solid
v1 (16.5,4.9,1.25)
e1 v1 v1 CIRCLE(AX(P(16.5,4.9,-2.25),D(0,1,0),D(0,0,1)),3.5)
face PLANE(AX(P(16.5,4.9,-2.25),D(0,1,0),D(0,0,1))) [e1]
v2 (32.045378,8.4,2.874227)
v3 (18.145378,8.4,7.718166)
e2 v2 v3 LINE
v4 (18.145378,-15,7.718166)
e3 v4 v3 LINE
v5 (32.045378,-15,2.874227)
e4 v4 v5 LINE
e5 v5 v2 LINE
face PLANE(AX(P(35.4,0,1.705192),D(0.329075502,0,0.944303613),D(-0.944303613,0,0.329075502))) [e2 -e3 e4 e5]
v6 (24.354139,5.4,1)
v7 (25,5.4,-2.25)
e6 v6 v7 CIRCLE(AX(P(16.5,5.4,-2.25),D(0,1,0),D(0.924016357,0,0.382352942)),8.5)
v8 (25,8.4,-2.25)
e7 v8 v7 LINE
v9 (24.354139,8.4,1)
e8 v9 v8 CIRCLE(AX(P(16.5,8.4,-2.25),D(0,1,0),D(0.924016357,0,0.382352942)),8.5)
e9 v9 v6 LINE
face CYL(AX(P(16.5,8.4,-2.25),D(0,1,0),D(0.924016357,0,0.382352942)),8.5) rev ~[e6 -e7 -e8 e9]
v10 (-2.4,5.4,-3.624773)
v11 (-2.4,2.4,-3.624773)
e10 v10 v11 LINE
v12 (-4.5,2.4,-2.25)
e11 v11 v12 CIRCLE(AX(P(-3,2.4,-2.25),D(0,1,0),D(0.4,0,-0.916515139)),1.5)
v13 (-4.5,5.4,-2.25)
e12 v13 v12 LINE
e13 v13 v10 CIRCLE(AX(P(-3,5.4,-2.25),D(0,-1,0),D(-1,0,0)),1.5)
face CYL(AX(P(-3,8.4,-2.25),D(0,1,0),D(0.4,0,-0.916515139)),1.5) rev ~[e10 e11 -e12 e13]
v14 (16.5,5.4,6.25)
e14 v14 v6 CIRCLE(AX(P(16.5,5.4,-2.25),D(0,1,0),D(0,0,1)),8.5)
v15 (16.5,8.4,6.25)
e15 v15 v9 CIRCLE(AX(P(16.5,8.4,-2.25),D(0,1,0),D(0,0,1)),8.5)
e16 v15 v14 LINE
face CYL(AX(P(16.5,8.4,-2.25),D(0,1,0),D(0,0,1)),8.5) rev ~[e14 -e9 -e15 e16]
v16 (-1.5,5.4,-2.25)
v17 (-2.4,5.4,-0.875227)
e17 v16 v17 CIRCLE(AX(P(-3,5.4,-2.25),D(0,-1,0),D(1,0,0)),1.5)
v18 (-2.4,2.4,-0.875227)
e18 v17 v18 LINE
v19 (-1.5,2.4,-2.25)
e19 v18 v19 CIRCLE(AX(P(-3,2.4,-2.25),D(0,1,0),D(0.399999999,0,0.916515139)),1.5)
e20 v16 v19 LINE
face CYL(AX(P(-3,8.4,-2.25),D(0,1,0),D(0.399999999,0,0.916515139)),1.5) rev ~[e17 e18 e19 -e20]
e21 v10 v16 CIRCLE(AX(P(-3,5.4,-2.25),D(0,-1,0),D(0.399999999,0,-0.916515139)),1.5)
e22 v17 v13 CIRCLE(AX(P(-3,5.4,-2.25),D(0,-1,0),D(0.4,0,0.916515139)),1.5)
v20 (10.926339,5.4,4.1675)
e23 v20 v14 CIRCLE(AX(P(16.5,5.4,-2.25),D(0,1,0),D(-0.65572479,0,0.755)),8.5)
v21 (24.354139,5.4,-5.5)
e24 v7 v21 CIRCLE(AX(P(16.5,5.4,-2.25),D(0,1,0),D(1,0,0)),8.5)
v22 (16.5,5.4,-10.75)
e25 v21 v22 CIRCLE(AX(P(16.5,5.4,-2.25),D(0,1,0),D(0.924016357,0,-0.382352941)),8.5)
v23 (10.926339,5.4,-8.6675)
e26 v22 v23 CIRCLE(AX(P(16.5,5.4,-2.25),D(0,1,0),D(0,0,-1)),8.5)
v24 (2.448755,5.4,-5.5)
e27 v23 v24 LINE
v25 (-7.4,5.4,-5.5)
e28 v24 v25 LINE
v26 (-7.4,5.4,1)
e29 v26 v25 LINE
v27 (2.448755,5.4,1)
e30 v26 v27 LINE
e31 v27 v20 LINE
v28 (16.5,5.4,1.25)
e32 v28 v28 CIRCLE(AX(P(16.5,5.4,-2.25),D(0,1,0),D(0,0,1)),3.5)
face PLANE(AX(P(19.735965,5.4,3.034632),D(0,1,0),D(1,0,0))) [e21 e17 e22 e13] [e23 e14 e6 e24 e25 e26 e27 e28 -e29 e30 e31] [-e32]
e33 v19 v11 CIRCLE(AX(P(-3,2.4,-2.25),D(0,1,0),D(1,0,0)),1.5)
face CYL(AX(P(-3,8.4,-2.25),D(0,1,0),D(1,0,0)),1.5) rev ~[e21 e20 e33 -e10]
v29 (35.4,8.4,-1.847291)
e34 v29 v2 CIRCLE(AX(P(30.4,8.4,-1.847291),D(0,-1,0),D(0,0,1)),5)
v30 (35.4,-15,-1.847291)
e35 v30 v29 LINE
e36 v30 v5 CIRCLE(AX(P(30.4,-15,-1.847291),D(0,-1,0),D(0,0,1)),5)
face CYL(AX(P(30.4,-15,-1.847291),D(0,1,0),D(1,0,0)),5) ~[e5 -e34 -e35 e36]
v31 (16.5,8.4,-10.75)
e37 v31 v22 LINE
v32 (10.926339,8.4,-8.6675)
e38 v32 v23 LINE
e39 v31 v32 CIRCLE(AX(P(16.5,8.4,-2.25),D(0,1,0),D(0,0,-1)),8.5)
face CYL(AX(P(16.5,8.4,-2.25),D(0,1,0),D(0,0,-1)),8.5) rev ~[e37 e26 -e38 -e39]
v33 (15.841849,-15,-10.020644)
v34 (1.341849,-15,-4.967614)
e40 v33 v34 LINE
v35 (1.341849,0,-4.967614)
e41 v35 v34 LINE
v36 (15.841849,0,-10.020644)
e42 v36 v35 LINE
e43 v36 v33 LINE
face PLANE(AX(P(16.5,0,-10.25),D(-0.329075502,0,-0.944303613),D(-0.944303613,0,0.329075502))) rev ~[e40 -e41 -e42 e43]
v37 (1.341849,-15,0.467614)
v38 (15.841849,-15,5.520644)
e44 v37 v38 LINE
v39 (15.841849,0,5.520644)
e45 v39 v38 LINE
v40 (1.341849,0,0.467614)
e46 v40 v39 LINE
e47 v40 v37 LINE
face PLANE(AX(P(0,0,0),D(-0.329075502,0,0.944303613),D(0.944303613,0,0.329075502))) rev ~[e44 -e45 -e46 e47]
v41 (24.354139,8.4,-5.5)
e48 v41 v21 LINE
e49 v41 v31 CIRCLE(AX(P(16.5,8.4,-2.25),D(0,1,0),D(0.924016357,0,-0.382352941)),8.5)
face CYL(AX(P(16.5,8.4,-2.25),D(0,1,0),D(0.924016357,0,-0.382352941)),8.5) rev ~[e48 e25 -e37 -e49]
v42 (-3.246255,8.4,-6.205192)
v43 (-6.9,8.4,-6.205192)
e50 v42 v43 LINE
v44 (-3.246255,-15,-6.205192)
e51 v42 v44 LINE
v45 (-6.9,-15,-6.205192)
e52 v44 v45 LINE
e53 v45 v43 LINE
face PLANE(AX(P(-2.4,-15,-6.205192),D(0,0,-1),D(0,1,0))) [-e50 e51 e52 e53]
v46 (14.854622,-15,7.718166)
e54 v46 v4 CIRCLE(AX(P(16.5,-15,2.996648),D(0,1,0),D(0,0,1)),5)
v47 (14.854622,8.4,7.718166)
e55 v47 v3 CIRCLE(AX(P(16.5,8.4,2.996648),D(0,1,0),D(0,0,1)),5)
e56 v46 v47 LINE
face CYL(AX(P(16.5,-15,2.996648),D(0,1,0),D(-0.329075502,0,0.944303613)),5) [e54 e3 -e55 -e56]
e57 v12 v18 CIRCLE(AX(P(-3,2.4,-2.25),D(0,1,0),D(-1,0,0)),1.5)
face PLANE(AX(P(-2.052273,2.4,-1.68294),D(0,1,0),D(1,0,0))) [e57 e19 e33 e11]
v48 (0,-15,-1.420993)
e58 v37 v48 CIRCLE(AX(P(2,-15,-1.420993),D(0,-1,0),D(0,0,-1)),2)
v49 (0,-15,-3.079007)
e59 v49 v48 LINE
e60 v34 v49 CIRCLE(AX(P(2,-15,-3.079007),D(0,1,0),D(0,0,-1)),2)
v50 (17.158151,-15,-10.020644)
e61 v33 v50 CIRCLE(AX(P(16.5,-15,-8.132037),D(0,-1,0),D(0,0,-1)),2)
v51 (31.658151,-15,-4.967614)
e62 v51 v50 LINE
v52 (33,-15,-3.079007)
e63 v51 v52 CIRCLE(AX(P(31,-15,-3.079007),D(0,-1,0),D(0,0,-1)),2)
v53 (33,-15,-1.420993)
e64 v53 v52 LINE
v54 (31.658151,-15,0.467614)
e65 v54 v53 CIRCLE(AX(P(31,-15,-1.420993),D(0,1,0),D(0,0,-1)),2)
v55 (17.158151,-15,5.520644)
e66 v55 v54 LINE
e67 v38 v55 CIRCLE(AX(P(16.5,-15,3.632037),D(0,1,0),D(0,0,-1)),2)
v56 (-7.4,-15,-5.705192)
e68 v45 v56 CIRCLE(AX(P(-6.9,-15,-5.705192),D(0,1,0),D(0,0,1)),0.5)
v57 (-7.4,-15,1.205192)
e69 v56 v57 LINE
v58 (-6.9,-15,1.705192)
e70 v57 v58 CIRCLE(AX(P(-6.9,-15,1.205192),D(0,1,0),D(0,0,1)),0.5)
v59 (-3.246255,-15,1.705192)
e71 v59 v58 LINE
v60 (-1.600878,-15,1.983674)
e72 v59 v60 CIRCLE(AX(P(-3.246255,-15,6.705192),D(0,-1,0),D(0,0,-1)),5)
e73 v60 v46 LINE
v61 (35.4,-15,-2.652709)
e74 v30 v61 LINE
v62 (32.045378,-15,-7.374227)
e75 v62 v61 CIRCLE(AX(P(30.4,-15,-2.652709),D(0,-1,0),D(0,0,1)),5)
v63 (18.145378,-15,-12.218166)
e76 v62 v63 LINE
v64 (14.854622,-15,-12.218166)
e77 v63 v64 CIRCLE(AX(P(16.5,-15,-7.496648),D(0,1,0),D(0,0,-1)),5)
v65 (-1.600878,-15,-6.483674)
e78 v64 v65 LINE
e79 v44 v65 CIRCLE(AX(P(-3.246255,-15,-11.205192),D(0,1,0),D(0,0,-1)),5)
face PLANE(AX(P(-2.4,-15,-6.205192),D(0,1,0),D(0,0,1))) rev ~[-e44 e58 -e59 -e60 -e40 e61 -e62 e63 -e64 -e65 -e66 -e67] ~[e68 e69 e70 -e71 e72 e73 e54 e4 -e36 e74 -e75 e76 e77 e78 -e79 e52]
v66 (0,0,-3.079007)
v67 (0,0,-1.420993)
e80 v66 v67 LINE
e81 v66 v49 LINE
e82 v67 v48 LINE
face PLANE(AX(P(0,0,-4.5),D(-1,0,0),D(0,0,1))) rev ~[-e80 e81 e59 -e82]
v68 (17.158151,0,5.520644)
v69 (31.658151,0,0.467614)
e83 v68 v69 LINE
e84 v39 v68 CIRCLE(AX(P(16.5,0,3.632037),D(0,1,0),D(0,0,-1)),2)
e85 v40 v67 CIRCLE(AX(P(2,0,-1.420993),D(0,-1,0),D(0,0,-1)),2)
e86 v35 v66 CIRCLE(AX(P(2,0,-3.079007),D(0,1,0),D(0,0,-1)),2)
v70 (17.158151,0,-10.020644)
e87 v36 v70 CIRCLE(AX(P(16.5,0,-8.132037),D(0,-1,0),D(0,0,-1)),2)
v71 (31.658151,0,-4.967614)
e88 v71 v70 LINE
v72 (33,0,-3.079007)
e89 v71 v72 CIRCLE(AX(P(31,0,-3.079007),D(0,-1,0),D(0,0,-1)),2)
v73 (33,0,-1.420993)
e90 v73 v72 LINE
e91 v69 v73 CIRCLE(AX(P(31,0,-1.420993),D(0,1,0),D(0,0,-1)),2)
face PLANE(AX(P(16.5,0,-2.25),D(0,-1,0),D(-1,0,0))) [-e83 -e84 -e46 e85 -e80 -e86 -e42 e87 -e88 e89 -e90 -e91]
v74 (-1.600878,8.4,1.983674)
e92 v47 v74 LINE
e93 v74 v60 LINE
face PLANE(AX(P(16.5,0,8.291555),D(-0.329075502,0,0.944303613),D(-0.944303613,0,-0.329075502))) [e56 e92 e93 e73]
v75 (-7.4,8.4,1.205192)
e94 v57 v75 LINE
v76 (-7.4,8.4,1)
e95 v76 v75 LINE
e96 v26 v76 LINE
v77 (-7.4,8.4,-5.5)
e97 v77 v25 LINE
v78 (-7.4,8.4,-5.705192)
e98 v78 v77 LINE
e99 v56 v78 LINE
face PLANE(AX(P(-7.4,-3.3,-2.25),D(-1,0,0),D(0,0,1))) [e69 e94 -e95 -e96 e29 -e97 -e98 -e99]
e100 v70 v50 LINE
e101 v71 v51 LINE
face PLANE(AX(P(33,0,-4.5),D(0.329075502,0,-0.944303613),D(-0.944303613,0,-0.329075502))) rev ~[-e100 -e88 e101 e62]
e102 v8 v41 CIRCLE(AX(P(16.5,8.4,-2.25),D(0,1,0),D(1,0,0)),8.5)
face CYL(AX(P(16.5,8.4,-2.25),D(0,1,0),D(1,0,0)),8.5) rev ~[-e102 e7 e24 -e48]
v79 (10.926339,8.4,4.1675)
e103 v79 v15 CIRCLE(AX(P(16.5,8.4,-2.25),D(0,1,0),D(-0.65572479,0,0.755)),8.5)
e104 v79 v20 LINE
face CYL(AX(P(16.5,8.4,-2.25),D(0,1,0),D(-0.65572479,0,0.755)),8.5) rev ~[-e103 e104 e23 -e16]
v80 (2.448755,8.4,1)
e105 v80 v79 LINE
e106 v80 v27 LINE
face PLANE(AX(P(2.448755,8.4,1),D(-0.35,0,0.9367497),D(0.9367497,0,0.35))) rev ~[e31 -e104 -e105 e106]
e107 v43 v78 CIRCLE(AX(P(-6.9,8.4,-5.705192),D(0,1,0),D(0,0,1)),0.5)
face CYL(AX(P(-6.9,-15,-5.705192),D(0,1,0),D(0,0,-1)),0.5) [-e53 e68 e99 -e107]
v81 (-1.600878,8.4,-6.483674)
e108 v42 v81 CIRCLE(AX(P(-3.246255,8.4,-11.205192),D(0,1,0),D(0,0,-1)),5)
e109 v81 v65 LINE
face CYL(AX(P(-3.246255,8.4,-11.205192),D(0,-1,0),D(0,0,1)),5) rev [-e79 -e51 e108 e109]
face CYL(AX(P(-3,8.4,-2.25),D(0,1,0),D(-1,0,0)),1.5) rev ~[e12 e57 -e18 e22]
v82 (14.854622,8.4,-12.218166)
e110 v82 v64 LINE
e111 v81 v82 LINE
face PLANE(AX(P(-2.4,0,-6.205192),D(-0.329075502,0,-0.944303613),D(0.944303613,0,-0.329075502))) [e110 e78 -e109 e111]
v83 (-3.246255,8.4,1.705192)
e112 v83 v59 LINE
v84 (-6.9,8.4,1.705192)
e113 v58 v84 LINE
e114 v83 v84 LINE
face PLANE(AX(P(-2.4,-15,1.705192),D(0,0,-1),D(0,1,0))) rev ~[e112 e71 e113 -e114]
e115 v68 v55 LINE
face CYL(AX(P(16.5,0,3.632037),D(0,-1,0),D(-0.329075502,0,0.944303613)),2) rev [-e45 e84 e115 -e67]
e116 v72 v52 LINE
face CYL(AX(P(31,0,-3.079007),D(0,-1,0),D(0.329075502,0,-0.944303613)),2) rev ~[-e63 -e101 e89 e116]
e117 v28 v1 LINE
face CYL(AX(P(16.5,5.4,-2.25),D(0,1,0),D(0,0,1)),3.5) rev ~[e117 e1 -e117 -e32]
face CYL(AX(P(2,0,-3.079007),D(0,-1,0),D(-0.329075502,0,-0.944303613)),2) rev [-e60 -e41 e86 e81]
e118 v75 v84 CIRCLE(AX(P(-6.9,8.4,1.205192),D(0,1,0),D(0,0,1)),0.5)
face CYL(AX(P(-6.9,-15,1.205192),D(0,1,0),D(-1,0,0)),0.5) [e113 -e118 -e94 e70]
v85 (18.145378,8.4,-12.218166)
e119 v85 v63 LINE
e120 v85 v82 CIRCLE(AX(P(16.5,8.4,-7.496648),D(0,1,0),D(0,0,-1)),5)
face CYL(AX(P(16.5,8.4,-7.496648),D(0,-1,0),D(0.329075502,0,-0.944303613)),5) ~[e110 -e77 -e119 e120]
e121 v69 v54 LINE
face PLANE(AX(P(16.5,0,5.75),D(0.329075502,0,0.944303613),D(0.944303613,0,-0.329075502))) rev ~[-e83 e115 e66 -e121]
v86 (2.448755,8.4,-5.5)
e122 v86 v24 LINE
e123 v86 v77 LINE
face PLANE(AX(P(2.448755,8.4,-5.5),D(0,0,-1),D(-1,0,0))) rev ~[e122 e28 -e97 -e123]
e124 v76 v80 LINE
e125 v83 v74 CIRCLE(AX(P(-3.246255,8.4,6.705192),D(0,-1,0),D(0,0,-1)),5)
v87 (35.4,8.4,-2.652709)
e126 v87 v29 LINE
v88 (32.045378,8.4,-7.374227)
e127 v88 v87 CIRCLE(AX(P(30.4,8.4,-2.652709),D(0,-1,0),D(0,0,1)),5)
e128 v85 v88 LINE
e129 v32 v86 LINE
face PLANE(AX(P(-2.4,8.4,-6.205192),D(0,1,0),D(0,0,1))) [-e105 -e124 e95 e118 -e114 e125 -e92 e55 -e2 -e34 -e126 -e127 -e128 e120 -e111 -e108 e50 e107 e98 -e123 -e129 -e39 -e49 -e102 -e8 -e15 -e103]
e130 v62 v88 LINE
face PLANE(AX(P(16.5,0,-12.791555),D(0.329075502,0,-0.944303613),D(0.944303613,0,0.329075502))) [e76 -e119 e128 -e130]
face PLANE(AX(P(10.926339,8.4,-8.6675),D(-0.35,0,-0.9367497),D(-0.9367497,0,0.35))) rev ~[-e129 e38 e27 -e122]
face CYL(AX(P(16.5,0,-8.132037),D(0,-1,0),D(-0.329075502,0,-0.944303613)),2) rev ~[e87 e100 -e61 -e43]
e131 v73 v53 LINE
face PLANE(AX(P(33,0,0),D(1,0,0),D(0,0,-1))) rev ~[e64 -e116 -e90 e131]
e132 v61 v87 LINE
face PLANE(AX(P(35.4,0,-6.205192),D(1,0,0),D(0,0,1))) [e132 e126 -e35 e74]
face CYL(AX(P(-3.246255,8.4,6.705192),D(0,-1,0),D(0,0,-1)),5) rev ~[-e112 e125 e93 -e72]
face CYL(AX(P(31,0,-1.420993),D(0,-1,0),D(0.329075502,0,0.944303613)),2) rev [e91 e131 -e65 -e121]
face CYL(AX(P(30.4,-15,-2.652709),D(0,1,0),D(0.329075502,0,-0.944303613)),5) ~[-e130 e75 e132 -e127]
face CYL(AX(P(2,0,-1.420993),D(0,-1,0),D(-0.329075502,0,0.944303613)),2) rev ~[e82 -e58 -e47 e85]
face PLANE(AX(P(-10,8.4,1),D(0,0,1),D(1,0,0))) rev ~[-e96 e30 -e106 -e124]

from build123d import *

# Parameters (mm, degrees)
BOSS_EXTRUDE1_DEPTH = 15
FILLET2_R           = 2
FILLET3_R           = 2
FILLET4_R           = 2
FILLET5_R           = 2
FILLET6_R           = 2
FILLET7_R           = 2
BOSS_EXTRUDE2_DEPTH = 8.4
SKETCH4_W           = 7.910383638
SKETCH4_H           = 23.4
BOSS_EXTRUDE3_DEPTH = 5
CUT_EXTRUDE1_DEPTH  = 6
CUT_EXTRUDE2_DEPTH  = 3
SKETCH5_R           = 3.5
CUT_EXTRUDE3_DEPTH  = 0.5
FILLET8_R           = 0.5
FILLET9_R           = 0.5
FILLET10_R          = 5
FILLET11_R          = 5
FILLET12_R          = 5
FILLET13_R          = 5
FILLET14_R          = 5
FILLET15_R          = 5


with BuildPart() as part:
    # Sketch1 → Boss-Extrude1 (new body)
    with BuildSketch(Plane(origin=(0, 0, 0), x_dir=(1, 0, 0), z_dir=(0, 1, 0))):
        Polygon((-2.4, -1.705191819), (16.5, -8.291555455), (35.4, -1.705191819), (35.4, 6.205191819), (16.5, 12.791555455), (-2.4, 6.205191819), align=None)
        Polygon((0, 0), (16.5, -5.75), (33, 0), (33, 4.5), (16.5, 10.25), (0, 4.5), align=None, mode=Mode.SUBTRACT)
    extrude(amount=-BOSS_EXTRUDE1_DEPTH)

    # Fillet2
    fillet2_edges = [part.edges().sort_by_distance(p)[0] for p in [
        (0, -7.5, -4.5),
    ]]
    fillet(fillet2_edges, radius=FILLET2_R)

    # Fillet3
    fillet3_edges = [part.edges().sort_by_distance(p)[0] for p in [
        (16.5, -7.5, -10.25),
    ]]
    fillet(fillet3_edges, radius=FILLET3_R)

    # Fillet4
    fillet4_edges = [part.edges().sort_by_distance(p)[0] for p in [
        (33, -7.5, -4.5),
    ]]
    fillet(fillet4_edges, radius=FILLET4_R)

    # Fillet5
    fillet5_edges = [part.edges().sort_by_distance(p)[0] for p in [
        (0, -7.5, 0),
    ]]
    fillet(fillet5_edges, radius=FILLET5_R)

    # Fillet6
    fillet6_edges = [part.edges().sort_by_distance(p)[0] for p in [
        (16.5, -7.5, 5.75),
    ]]
    fillet(fillet6_edges, radius=FILLET6_R)

    # Fillet7
    fillet7_edges = [part.edges().sort_by_distance(p)[0] for p in [
        (33, -7.5, 0),
    ]]
    fillet(fillet7_edges, radius=FILLET7_R)

    # Sketch2 → Boss-Extrude2 (add)
    with BuildSketch(Plane(origin=(0, 0, 0), x_dir=(1, 0, 0), z_dir=(0, 1, 0))):
        Polygon((16.5, -8.291555455), (-2.4, -1.705191819), (-2.4, 6.205191819), (16.5, 12.791555455), (35.4, 6.205191819), (35.4, -1.705191819), align=None)
    extrude(amount=BOSS_EXTRUDE2_DEPTH)

    # Sketch4 → Boss-Extrude3 (add)
    with BuildSketch(Plane.ZY.offset(2.4)):
        with Locations((-2.25, -3.3)):
            Rectangle(SKETCH4_W, SKETCH4_H)
    extrude(amount=BOSS_EXTRUDE3_DEPTH)

    # Sketch3 → Cut-Extrude1 (cut)
    with BuildSketch(Plane(origin=(0, 8.4, 0), x_dir=(1, 0, 0), z_dir=(0, 1, 0))):
        with BuildLine():
            Line((-2.4, 2.25), (-2.4, 0.875227292))
            ThreePointArc((-2.4, 0.875227292), (-1.74500996, 1.428416164), (-1.5, 2.25))
            Line((-1.5, 2.25), (-2.4, 2.25))
        make_face()
        with BuildLine():
            ThreePointArc((-4.5, 2.25), (-3.821583836, 0.99500996), (-2.4, 0.875227292))
            Line((-2.4, 0.875227292), (-2.4, 2.25))
            Line((-2.4, 2.25), (-4.5, 2.25))
        make_face()
        with BuildLine():
            Line((-2.4, 2.25), (-1.5, 2.25))
            ThreePointArc((-1.5, 2.25), (-1.74500996, 3.071583836), (-2.4, 3.624772708))
            Line((-2.4, 3.624772708), (-2.4, 2.25))
        make_face()
        with BuildLine():
            ThreePointArc((-2.4, 3.624772708), (-3.821583836, 3.50499004), (-4.5, 2.25))
            Line((-4.5, 2.25), (-2.4, 2.25))
            Line((-2.4, 2.25), (-2.4, 3.624772708))
        make_face()
        with BuildLine():
            Line((-2.4, 2.25), (-2.4, 0.875227292))
            ThreePointArc((-2.4, 0.875227292), (-1.74500996, 1.428416164), (-1.5, 2.25))
            Line((-1.5, 2.25), (-2.4, 2.25))
        make_face()
        with BuildLine():
            ThreePointArc((-4.5, 2.25), (-3.821583836, 0.99500996), (-2.4, 0.875227292))
            Line((-2.4, 0.875227292), (-2.4, 2.25))
            Line((-2.4, 2.25), (-4.5, 2.25))
        make_face()
        with BuildLine():
            Line((-2.4, 2.25), (-1.5, 2.25))
            ThreePointArc((-1.5, 2.25), (-1.74500996, 3.071583836), (-2.4, 3.624772708))
            Line((-2.4, 3.624772708), (-2.4, 2.25))
        make_face()
        with BuildLine():
            ThreePointArc((-2.4, 3.624772708), (-3.821583836, 3.50499004), (-4.5, 2.25))
            Line((-4.5, 2.25), (-2.4, 2.25))
            Line((-2.4, 2.25), (-2.4, 3.624772708))
        make_face()
        with BuildLine():
            Line((-2.4, 2.25), (-2.4, 0.875227292))
            ThreePointArc((-2.4, 0.875227292), (-1.74500996, 1.428416164), (-1.5, 2.25))
            Line((-1.5, 2.25), (-2.4, 2.25))
        make_face()
        with BuildLine():
            ThreePointArc((-4.5, 2.25), (-3.821583836, 0.99500996), (-2.4, 0.875227292))
            Line((-2.4, 0.875227292), (-2.4, 2.25))
            Line((-2.4, 2.25), (-4.5, 2.25))
        make_face()
        with BuildLine():
            Line((-2.4, 2.25), (-1.5, 2.25))
            ThreePointArc((-1.5, 2.25), (-1.74500996, 3.071583836), (-2.4, 3.624772708))
            Line((-2.4, 3.624772708), (-2.4, 2.25))
        make_face()
        with BuildLine():
            ThreePointArc((-2.4, 3.624772708), (-3.821583836, 3.50499004), (-4.5, 2.25))
            Line((-4.5, 2.25), (-2.4, 2.25))
            Line((-2.4, 2.25), (-2.4, 3.624772708))
        make_face()
        with BuildLine():
            Line((-2.4, 2.25), (-2.4, 0.875227292))
            ThreePointArc((-2.4, 0.875227292), (-1.74500996, 1.428416164), (-1.5, 2.25))
            Line((-1.5, 2.25), (-2.4, 2.25))
        make_face()
        with BuildLine():
            ThreePointArc((-4.5, 2.25), (-3.821583836, 0.99500996), (-2.4, 0.875227292))
            Line((-2.4, 0.875227292), (-2.4, 2.25))
            Line((-2.4, 2.25), (-4.5, 2.25))
        make_face()
        with BuildLine():
            Line((-2.4, 2.25), (-1.5, 2.25))
            ThreePointArc((-1.5, 2.25), (-1.74500996, 3.071583836), (-2.4, 3.624772708))
            Line((-2.4, 3.624772708), (-2.4, 2.25))
        make_face()
        with BuildLine():
            ThreePointArc((-2.4, 3.624772708), (-3.821583836, 3.50499004), (-4.5, 2.25))
            Line((-4.5, 2.25), (-2.4, 2.25))
            Line((-2.4, 2.25), (-2.4, 3.624772708))
        make_face()
    extrude(amount=-CUT_EXTRUDE1_DEPTH, mode=Mode.SUBTRACT)

    # Sketch3<3> → Cut-Extrude2 (cut)
    with BuildSketch(Plane(origin=(0, 8.4, 0), x_dir=(1, 0, 0), z_dir=(0, 1, 0))):
        with BuildLine():
            Line((16.5, -1), (16.5, -6.25))
            ThreePointArc((16.5, -6.25), (21.223610907, -4.816647013), (24.354139036, -1))
            Line((24.354139036, -1), (16.5, -1))
        make_face()
        with BuildLine():
            Line((10.926339286, -4.1675), (16.5, -6.25))
            Line((16.5, -6.25), (16.5, -1))
            Line((16.5, -1), (8.645860964, -1))
            ThreePointArc((8.645860964, -1), (9.601832447, -2.71641565), (10.926339286, -4.1675))
        make_face()
        with BuildLine():
            ThreePointArc((10.926339286, -4.1675), (13.525, -5.712372448), (16.5, -6.25))
            Line((16.5, -6.25), (10.926339286, -4.1675))
        make_face()
        with BuildLine():
            Line((16.5, 2.25), (16.5, -1))
            Line((16.5, -1), (24.354139036, -1))
            ThreePointArc((24.354139036, -1), (24.836971327, 0.593223281), (25, 2.25))
            Line((25, 2.25), (16.5, 2.25))
        make_face()
        with BuildLine():
            Line((8.645860964, -1), (16.5, -1))
            Line((16.5, -1), (16.5, 2.25))
            Line((16.5, 2.25), (8, 2.25))
            ThreePointArc((8, 2.25), (8.163028673, 0.593223281), (8.645860964, -1))
        make_face()
        with BuildLine():
            Line((16.5, 5.5), (16.5, 2.25))
            Line((16.5, 2.25), (25, 2.25))
            ThreePointArc((25, 2.25), (24.836971327, 3.906776719), (24.354139036, 5.5))
            Line((24.354139036, 5.5), (16.5, 5.5))
        make_face()
        with BuildLine():
            Line((8, 2.25), (16.5, 2.25))
            Line((16.5, 2.25), (16.5, 5.5))
            Line((16.5, 5.5), (8.645860964, 5.5))
            ThreePointArc((8.645860964, 5.5), (8.163028673, 3.906776719), (8, 2.25))
        make_face()
        with BuildLine():
            Line((16.5, 10.75), (16.5, 5.5))
            Line((16.5, 5.5), (24.354139036, 5.5))
            ThreePointArc((24.354139036, 5.5), (21.223610907, 9.316647013), (16.5, 10.75))
        make_face()
        with BuildLine():
            Line((8.645860964, 5.5), (16.5, 5.5))
            Line((16.5, 5.5), (16.5, 10.75))
            Line((16.5, 10.75), (10.926339286, 8.6675))
            ThreePointArc((10.926339286, 8.6675), (9.601832447, 7.21641565), (8.645860964, 5.5))
        make_face()
        with BuildLine():
            Line((10.926339286, 8.6675), (16.5, 10.75))
            ThreePointArc((16.5, 10.75), (13.525, 10.212372448), (10.926339286, 8.6675))
        make_face()
        with BuildLine():
            Line((16.5, 5.5), (16.5, 2.25))
            Line((16.5, 2.25), (25, 2.25))
            ThreePointArc((25, 2.25), (24.836971327, 3.906776719), (24.354139036, 5.5))
            Line((24.354139036, 5.5), (16.5, 5.5))
        make_face()
        with BuildLine():
            Line((8, 2.25), (16.5, 2.25))
            Line((16.5, 2.25), (16.5, 5.5))
            Line((16.5, 5.5), (8.645860964, 5.5))
            ThreePointArc((8.645860964, 5.5), (8.163028673, 3.906776719), (8, 2.25))
        make_face()
        with BuildLine():
            Line((16.5, 2.25), (16.5, -1))
            Line((16.5, -1), (24.354139036, -1))
            ThreePointArc((24.354139036, -1), (24.836971327, 0.593223281), (25, 2.25))
            Line((25, 2.25), (16.5, 2.25))
        make_face()
        with BuildLine():
            Line((8.645860964, -1), (16.5, -1))
            Line((16.5, -1), (16.5, 2.25))
            Line((16.5, 2.25), (8, 2.25))
            ThreePointArc((8, 2.25), (8.163028673, 0.593223281), (8.645860964, -1))
        make_face()
        with BuildLine():
            Line((2.448754504, -1), (10.926339286, -4.1675))
            ThreePointArc((10.926339286, -4.1675), (9.601832447, -2.71641565), (8.645860964, -1))
            Line((8.645860964, -1), (2.448754504, -1))
        make_face()
        with BuildLine():
            Line((2.448754504, 2.25), (2.448754504, -1))
            Line((2.448754504, -1), (8.645860964, -1))
            ThreePointArc((8.645860964, -1), (8.163028673, 0.593223281), (8, 2.25))
            Line((8, 2.25), (2.448754504, 2.25))
        make_face()
        with BuildLine():
            Line((2.448754504, 5.5), (2.448754504, 2.25))
            Line((2.448754504, 2.25), (8, 2.25))
            ThreePointArc((8, 2.25), (8.163028673, 3.906776719), (8.645860964, 5.5))
            Line((8.645860964, 5.5), (2.448754504, 5.5))
        make_face()
        with BuildLine():
            Line((10.926339286, 8.6675), (2.448754504, 5.5))
            Line((2.448754504, 5.5), (8.645860964, 5.5))
            ThreePointArc((8.645860964, 5.5), (9.601832447, 7.21641565), (10.926339286, 8.6675))
        make_face()
        with BuildLine():
            Line((-2.4, -1), (2.448754504, -1))
            Line((2.448754504, -1), (2.448754504, 2.25))
            Line((2.448754504, 2.25), (-1.5, 2.25))
            ThreePointArc((-1.5, 2.25), (-1.74500996, 1.428416164), (-2.4, 0.875227292))
            Line((-2.4, 0.875227292), (-2.4, -1))
        make_face()
        with BuildLine():
            Line((-1.5, 2.25), (2.448754504, 2.25))
            Line((2.448754504, 2.25), (2.448754504, 5.5))
            Line((2.448754504, 5.5), (-2.4, 5.5))
            Line((-2.4, 5.5), (-2.4, 3.624772708))
            ThreePointArc((-2.4, 3.624772708), (-1.74500996, 3.071583836), (-1.5, 2.25))
        make_face()
        with BuildLine():
            Line((-10, 5.5), (-10, 2.25))
            Line((-10, 2.25), (-4.5, 2.25))
            ThreePointArc((-4.5, 2.25), (-3.821583836, 3.50499004), (-2.4, 3.624772708))
            Line((-2.4, 3.624772708), (-2.4, 5.5))
            Line((-2.4, 5.5), (-10, 5.5))
        make_face()
        with BuildLine():
            Line((-10, -1), (-2.4, -1))
            Line((-2.4, -1), (-2.4, 0.875227292))
            ThreePointArc((-2.4, 0.875227292), (-3.821583836, 0.99500996), (-4.5, 2.25))
            Line((-4.5, 2.25), (-10, 2.25))
            Line((-10, 2.25), (-10, -1))
        make_face()
    extrude(amount=-CUT_EXTRUDE2_DEPTH, mode=Mode.SUBTRACT)

    # Sketch5 → Cut-Extrude3 (cut)
    with BuildSketch(Plane(origin=(0, 5.4, 0), x_dir=(1, 0, 0), z_dir=(0, 1, 0))):
        with Locations(Location((16.5, 2.25, 0), (0, 0, 270))):
            Circle(SKETCH5_R)
    extrude(amount=-CUT_EXTRUDE3_DEPTH, mode=Mode.SUBTRACT)

    # Fillet8
    fillet8_edges = [part.edges().sort_by_distance(p)[0] for p in [
        (-7.4, -3.3, -6.205191819),
    ]]
    fillet(fillet8_edges, radius=FILLET8_R)

    # Fillet9
    fillet9_edges = [part.edges().sort_by_distance(p)[0] for p in [
        (-7.4, -3.3, 1.705191819),
    ]]
    fillet(fillet9_edges, radius=FILLET9_R)

    # Fillet10
    fillet10_edges = [part.edges().sort_by_distance(p)[0] for p in [
        (-2.4, -3.3, -6.205191819),
    ]]
    fillet(fillet10_edges, radius=FILLET10_R)

    # Fillet11
    fillet11_edges = [part.edges().sort_by_distance(p)[0] for p in [
        (-2.4, -3.3, 1.705191819),
    ]]
    fillet(fillet11_edges, radius=FILLET11_R)

    # Fillet12
    fillet12_edges = [part.edges().sort_by_distance(p)[0] for p in [
        (16.5, -3.3, 8.291555455),
    ]]
    fillet(fillet12_edges, radius=FILLET12_R)

    # Fillet13
    fillet13_edges = [part.edges().sort_by_distance(p)[0] for p in [
        (16.5, -3.3, -12.791555455),
    ]]
    fillet(fillet13_edges, radius=FILLET13_R)

    # Fillet14
    fillet14_edges = [part.edges().sort_by_distance(p)[0] for p in [
        (35.4, -3.3, -6.205191819),
    ]]
    fillet(fillet14_edges, radius=FILLET14_R)

    # Fillet15
    fillet15_edges = [part.edges().sort_by_distance(p)[0] for p in [
        (35.4, -3.3, 1.705191819),
    ]]
    fillet(fillet15_edges, radius=FILLET15_R)


solid = part.part
